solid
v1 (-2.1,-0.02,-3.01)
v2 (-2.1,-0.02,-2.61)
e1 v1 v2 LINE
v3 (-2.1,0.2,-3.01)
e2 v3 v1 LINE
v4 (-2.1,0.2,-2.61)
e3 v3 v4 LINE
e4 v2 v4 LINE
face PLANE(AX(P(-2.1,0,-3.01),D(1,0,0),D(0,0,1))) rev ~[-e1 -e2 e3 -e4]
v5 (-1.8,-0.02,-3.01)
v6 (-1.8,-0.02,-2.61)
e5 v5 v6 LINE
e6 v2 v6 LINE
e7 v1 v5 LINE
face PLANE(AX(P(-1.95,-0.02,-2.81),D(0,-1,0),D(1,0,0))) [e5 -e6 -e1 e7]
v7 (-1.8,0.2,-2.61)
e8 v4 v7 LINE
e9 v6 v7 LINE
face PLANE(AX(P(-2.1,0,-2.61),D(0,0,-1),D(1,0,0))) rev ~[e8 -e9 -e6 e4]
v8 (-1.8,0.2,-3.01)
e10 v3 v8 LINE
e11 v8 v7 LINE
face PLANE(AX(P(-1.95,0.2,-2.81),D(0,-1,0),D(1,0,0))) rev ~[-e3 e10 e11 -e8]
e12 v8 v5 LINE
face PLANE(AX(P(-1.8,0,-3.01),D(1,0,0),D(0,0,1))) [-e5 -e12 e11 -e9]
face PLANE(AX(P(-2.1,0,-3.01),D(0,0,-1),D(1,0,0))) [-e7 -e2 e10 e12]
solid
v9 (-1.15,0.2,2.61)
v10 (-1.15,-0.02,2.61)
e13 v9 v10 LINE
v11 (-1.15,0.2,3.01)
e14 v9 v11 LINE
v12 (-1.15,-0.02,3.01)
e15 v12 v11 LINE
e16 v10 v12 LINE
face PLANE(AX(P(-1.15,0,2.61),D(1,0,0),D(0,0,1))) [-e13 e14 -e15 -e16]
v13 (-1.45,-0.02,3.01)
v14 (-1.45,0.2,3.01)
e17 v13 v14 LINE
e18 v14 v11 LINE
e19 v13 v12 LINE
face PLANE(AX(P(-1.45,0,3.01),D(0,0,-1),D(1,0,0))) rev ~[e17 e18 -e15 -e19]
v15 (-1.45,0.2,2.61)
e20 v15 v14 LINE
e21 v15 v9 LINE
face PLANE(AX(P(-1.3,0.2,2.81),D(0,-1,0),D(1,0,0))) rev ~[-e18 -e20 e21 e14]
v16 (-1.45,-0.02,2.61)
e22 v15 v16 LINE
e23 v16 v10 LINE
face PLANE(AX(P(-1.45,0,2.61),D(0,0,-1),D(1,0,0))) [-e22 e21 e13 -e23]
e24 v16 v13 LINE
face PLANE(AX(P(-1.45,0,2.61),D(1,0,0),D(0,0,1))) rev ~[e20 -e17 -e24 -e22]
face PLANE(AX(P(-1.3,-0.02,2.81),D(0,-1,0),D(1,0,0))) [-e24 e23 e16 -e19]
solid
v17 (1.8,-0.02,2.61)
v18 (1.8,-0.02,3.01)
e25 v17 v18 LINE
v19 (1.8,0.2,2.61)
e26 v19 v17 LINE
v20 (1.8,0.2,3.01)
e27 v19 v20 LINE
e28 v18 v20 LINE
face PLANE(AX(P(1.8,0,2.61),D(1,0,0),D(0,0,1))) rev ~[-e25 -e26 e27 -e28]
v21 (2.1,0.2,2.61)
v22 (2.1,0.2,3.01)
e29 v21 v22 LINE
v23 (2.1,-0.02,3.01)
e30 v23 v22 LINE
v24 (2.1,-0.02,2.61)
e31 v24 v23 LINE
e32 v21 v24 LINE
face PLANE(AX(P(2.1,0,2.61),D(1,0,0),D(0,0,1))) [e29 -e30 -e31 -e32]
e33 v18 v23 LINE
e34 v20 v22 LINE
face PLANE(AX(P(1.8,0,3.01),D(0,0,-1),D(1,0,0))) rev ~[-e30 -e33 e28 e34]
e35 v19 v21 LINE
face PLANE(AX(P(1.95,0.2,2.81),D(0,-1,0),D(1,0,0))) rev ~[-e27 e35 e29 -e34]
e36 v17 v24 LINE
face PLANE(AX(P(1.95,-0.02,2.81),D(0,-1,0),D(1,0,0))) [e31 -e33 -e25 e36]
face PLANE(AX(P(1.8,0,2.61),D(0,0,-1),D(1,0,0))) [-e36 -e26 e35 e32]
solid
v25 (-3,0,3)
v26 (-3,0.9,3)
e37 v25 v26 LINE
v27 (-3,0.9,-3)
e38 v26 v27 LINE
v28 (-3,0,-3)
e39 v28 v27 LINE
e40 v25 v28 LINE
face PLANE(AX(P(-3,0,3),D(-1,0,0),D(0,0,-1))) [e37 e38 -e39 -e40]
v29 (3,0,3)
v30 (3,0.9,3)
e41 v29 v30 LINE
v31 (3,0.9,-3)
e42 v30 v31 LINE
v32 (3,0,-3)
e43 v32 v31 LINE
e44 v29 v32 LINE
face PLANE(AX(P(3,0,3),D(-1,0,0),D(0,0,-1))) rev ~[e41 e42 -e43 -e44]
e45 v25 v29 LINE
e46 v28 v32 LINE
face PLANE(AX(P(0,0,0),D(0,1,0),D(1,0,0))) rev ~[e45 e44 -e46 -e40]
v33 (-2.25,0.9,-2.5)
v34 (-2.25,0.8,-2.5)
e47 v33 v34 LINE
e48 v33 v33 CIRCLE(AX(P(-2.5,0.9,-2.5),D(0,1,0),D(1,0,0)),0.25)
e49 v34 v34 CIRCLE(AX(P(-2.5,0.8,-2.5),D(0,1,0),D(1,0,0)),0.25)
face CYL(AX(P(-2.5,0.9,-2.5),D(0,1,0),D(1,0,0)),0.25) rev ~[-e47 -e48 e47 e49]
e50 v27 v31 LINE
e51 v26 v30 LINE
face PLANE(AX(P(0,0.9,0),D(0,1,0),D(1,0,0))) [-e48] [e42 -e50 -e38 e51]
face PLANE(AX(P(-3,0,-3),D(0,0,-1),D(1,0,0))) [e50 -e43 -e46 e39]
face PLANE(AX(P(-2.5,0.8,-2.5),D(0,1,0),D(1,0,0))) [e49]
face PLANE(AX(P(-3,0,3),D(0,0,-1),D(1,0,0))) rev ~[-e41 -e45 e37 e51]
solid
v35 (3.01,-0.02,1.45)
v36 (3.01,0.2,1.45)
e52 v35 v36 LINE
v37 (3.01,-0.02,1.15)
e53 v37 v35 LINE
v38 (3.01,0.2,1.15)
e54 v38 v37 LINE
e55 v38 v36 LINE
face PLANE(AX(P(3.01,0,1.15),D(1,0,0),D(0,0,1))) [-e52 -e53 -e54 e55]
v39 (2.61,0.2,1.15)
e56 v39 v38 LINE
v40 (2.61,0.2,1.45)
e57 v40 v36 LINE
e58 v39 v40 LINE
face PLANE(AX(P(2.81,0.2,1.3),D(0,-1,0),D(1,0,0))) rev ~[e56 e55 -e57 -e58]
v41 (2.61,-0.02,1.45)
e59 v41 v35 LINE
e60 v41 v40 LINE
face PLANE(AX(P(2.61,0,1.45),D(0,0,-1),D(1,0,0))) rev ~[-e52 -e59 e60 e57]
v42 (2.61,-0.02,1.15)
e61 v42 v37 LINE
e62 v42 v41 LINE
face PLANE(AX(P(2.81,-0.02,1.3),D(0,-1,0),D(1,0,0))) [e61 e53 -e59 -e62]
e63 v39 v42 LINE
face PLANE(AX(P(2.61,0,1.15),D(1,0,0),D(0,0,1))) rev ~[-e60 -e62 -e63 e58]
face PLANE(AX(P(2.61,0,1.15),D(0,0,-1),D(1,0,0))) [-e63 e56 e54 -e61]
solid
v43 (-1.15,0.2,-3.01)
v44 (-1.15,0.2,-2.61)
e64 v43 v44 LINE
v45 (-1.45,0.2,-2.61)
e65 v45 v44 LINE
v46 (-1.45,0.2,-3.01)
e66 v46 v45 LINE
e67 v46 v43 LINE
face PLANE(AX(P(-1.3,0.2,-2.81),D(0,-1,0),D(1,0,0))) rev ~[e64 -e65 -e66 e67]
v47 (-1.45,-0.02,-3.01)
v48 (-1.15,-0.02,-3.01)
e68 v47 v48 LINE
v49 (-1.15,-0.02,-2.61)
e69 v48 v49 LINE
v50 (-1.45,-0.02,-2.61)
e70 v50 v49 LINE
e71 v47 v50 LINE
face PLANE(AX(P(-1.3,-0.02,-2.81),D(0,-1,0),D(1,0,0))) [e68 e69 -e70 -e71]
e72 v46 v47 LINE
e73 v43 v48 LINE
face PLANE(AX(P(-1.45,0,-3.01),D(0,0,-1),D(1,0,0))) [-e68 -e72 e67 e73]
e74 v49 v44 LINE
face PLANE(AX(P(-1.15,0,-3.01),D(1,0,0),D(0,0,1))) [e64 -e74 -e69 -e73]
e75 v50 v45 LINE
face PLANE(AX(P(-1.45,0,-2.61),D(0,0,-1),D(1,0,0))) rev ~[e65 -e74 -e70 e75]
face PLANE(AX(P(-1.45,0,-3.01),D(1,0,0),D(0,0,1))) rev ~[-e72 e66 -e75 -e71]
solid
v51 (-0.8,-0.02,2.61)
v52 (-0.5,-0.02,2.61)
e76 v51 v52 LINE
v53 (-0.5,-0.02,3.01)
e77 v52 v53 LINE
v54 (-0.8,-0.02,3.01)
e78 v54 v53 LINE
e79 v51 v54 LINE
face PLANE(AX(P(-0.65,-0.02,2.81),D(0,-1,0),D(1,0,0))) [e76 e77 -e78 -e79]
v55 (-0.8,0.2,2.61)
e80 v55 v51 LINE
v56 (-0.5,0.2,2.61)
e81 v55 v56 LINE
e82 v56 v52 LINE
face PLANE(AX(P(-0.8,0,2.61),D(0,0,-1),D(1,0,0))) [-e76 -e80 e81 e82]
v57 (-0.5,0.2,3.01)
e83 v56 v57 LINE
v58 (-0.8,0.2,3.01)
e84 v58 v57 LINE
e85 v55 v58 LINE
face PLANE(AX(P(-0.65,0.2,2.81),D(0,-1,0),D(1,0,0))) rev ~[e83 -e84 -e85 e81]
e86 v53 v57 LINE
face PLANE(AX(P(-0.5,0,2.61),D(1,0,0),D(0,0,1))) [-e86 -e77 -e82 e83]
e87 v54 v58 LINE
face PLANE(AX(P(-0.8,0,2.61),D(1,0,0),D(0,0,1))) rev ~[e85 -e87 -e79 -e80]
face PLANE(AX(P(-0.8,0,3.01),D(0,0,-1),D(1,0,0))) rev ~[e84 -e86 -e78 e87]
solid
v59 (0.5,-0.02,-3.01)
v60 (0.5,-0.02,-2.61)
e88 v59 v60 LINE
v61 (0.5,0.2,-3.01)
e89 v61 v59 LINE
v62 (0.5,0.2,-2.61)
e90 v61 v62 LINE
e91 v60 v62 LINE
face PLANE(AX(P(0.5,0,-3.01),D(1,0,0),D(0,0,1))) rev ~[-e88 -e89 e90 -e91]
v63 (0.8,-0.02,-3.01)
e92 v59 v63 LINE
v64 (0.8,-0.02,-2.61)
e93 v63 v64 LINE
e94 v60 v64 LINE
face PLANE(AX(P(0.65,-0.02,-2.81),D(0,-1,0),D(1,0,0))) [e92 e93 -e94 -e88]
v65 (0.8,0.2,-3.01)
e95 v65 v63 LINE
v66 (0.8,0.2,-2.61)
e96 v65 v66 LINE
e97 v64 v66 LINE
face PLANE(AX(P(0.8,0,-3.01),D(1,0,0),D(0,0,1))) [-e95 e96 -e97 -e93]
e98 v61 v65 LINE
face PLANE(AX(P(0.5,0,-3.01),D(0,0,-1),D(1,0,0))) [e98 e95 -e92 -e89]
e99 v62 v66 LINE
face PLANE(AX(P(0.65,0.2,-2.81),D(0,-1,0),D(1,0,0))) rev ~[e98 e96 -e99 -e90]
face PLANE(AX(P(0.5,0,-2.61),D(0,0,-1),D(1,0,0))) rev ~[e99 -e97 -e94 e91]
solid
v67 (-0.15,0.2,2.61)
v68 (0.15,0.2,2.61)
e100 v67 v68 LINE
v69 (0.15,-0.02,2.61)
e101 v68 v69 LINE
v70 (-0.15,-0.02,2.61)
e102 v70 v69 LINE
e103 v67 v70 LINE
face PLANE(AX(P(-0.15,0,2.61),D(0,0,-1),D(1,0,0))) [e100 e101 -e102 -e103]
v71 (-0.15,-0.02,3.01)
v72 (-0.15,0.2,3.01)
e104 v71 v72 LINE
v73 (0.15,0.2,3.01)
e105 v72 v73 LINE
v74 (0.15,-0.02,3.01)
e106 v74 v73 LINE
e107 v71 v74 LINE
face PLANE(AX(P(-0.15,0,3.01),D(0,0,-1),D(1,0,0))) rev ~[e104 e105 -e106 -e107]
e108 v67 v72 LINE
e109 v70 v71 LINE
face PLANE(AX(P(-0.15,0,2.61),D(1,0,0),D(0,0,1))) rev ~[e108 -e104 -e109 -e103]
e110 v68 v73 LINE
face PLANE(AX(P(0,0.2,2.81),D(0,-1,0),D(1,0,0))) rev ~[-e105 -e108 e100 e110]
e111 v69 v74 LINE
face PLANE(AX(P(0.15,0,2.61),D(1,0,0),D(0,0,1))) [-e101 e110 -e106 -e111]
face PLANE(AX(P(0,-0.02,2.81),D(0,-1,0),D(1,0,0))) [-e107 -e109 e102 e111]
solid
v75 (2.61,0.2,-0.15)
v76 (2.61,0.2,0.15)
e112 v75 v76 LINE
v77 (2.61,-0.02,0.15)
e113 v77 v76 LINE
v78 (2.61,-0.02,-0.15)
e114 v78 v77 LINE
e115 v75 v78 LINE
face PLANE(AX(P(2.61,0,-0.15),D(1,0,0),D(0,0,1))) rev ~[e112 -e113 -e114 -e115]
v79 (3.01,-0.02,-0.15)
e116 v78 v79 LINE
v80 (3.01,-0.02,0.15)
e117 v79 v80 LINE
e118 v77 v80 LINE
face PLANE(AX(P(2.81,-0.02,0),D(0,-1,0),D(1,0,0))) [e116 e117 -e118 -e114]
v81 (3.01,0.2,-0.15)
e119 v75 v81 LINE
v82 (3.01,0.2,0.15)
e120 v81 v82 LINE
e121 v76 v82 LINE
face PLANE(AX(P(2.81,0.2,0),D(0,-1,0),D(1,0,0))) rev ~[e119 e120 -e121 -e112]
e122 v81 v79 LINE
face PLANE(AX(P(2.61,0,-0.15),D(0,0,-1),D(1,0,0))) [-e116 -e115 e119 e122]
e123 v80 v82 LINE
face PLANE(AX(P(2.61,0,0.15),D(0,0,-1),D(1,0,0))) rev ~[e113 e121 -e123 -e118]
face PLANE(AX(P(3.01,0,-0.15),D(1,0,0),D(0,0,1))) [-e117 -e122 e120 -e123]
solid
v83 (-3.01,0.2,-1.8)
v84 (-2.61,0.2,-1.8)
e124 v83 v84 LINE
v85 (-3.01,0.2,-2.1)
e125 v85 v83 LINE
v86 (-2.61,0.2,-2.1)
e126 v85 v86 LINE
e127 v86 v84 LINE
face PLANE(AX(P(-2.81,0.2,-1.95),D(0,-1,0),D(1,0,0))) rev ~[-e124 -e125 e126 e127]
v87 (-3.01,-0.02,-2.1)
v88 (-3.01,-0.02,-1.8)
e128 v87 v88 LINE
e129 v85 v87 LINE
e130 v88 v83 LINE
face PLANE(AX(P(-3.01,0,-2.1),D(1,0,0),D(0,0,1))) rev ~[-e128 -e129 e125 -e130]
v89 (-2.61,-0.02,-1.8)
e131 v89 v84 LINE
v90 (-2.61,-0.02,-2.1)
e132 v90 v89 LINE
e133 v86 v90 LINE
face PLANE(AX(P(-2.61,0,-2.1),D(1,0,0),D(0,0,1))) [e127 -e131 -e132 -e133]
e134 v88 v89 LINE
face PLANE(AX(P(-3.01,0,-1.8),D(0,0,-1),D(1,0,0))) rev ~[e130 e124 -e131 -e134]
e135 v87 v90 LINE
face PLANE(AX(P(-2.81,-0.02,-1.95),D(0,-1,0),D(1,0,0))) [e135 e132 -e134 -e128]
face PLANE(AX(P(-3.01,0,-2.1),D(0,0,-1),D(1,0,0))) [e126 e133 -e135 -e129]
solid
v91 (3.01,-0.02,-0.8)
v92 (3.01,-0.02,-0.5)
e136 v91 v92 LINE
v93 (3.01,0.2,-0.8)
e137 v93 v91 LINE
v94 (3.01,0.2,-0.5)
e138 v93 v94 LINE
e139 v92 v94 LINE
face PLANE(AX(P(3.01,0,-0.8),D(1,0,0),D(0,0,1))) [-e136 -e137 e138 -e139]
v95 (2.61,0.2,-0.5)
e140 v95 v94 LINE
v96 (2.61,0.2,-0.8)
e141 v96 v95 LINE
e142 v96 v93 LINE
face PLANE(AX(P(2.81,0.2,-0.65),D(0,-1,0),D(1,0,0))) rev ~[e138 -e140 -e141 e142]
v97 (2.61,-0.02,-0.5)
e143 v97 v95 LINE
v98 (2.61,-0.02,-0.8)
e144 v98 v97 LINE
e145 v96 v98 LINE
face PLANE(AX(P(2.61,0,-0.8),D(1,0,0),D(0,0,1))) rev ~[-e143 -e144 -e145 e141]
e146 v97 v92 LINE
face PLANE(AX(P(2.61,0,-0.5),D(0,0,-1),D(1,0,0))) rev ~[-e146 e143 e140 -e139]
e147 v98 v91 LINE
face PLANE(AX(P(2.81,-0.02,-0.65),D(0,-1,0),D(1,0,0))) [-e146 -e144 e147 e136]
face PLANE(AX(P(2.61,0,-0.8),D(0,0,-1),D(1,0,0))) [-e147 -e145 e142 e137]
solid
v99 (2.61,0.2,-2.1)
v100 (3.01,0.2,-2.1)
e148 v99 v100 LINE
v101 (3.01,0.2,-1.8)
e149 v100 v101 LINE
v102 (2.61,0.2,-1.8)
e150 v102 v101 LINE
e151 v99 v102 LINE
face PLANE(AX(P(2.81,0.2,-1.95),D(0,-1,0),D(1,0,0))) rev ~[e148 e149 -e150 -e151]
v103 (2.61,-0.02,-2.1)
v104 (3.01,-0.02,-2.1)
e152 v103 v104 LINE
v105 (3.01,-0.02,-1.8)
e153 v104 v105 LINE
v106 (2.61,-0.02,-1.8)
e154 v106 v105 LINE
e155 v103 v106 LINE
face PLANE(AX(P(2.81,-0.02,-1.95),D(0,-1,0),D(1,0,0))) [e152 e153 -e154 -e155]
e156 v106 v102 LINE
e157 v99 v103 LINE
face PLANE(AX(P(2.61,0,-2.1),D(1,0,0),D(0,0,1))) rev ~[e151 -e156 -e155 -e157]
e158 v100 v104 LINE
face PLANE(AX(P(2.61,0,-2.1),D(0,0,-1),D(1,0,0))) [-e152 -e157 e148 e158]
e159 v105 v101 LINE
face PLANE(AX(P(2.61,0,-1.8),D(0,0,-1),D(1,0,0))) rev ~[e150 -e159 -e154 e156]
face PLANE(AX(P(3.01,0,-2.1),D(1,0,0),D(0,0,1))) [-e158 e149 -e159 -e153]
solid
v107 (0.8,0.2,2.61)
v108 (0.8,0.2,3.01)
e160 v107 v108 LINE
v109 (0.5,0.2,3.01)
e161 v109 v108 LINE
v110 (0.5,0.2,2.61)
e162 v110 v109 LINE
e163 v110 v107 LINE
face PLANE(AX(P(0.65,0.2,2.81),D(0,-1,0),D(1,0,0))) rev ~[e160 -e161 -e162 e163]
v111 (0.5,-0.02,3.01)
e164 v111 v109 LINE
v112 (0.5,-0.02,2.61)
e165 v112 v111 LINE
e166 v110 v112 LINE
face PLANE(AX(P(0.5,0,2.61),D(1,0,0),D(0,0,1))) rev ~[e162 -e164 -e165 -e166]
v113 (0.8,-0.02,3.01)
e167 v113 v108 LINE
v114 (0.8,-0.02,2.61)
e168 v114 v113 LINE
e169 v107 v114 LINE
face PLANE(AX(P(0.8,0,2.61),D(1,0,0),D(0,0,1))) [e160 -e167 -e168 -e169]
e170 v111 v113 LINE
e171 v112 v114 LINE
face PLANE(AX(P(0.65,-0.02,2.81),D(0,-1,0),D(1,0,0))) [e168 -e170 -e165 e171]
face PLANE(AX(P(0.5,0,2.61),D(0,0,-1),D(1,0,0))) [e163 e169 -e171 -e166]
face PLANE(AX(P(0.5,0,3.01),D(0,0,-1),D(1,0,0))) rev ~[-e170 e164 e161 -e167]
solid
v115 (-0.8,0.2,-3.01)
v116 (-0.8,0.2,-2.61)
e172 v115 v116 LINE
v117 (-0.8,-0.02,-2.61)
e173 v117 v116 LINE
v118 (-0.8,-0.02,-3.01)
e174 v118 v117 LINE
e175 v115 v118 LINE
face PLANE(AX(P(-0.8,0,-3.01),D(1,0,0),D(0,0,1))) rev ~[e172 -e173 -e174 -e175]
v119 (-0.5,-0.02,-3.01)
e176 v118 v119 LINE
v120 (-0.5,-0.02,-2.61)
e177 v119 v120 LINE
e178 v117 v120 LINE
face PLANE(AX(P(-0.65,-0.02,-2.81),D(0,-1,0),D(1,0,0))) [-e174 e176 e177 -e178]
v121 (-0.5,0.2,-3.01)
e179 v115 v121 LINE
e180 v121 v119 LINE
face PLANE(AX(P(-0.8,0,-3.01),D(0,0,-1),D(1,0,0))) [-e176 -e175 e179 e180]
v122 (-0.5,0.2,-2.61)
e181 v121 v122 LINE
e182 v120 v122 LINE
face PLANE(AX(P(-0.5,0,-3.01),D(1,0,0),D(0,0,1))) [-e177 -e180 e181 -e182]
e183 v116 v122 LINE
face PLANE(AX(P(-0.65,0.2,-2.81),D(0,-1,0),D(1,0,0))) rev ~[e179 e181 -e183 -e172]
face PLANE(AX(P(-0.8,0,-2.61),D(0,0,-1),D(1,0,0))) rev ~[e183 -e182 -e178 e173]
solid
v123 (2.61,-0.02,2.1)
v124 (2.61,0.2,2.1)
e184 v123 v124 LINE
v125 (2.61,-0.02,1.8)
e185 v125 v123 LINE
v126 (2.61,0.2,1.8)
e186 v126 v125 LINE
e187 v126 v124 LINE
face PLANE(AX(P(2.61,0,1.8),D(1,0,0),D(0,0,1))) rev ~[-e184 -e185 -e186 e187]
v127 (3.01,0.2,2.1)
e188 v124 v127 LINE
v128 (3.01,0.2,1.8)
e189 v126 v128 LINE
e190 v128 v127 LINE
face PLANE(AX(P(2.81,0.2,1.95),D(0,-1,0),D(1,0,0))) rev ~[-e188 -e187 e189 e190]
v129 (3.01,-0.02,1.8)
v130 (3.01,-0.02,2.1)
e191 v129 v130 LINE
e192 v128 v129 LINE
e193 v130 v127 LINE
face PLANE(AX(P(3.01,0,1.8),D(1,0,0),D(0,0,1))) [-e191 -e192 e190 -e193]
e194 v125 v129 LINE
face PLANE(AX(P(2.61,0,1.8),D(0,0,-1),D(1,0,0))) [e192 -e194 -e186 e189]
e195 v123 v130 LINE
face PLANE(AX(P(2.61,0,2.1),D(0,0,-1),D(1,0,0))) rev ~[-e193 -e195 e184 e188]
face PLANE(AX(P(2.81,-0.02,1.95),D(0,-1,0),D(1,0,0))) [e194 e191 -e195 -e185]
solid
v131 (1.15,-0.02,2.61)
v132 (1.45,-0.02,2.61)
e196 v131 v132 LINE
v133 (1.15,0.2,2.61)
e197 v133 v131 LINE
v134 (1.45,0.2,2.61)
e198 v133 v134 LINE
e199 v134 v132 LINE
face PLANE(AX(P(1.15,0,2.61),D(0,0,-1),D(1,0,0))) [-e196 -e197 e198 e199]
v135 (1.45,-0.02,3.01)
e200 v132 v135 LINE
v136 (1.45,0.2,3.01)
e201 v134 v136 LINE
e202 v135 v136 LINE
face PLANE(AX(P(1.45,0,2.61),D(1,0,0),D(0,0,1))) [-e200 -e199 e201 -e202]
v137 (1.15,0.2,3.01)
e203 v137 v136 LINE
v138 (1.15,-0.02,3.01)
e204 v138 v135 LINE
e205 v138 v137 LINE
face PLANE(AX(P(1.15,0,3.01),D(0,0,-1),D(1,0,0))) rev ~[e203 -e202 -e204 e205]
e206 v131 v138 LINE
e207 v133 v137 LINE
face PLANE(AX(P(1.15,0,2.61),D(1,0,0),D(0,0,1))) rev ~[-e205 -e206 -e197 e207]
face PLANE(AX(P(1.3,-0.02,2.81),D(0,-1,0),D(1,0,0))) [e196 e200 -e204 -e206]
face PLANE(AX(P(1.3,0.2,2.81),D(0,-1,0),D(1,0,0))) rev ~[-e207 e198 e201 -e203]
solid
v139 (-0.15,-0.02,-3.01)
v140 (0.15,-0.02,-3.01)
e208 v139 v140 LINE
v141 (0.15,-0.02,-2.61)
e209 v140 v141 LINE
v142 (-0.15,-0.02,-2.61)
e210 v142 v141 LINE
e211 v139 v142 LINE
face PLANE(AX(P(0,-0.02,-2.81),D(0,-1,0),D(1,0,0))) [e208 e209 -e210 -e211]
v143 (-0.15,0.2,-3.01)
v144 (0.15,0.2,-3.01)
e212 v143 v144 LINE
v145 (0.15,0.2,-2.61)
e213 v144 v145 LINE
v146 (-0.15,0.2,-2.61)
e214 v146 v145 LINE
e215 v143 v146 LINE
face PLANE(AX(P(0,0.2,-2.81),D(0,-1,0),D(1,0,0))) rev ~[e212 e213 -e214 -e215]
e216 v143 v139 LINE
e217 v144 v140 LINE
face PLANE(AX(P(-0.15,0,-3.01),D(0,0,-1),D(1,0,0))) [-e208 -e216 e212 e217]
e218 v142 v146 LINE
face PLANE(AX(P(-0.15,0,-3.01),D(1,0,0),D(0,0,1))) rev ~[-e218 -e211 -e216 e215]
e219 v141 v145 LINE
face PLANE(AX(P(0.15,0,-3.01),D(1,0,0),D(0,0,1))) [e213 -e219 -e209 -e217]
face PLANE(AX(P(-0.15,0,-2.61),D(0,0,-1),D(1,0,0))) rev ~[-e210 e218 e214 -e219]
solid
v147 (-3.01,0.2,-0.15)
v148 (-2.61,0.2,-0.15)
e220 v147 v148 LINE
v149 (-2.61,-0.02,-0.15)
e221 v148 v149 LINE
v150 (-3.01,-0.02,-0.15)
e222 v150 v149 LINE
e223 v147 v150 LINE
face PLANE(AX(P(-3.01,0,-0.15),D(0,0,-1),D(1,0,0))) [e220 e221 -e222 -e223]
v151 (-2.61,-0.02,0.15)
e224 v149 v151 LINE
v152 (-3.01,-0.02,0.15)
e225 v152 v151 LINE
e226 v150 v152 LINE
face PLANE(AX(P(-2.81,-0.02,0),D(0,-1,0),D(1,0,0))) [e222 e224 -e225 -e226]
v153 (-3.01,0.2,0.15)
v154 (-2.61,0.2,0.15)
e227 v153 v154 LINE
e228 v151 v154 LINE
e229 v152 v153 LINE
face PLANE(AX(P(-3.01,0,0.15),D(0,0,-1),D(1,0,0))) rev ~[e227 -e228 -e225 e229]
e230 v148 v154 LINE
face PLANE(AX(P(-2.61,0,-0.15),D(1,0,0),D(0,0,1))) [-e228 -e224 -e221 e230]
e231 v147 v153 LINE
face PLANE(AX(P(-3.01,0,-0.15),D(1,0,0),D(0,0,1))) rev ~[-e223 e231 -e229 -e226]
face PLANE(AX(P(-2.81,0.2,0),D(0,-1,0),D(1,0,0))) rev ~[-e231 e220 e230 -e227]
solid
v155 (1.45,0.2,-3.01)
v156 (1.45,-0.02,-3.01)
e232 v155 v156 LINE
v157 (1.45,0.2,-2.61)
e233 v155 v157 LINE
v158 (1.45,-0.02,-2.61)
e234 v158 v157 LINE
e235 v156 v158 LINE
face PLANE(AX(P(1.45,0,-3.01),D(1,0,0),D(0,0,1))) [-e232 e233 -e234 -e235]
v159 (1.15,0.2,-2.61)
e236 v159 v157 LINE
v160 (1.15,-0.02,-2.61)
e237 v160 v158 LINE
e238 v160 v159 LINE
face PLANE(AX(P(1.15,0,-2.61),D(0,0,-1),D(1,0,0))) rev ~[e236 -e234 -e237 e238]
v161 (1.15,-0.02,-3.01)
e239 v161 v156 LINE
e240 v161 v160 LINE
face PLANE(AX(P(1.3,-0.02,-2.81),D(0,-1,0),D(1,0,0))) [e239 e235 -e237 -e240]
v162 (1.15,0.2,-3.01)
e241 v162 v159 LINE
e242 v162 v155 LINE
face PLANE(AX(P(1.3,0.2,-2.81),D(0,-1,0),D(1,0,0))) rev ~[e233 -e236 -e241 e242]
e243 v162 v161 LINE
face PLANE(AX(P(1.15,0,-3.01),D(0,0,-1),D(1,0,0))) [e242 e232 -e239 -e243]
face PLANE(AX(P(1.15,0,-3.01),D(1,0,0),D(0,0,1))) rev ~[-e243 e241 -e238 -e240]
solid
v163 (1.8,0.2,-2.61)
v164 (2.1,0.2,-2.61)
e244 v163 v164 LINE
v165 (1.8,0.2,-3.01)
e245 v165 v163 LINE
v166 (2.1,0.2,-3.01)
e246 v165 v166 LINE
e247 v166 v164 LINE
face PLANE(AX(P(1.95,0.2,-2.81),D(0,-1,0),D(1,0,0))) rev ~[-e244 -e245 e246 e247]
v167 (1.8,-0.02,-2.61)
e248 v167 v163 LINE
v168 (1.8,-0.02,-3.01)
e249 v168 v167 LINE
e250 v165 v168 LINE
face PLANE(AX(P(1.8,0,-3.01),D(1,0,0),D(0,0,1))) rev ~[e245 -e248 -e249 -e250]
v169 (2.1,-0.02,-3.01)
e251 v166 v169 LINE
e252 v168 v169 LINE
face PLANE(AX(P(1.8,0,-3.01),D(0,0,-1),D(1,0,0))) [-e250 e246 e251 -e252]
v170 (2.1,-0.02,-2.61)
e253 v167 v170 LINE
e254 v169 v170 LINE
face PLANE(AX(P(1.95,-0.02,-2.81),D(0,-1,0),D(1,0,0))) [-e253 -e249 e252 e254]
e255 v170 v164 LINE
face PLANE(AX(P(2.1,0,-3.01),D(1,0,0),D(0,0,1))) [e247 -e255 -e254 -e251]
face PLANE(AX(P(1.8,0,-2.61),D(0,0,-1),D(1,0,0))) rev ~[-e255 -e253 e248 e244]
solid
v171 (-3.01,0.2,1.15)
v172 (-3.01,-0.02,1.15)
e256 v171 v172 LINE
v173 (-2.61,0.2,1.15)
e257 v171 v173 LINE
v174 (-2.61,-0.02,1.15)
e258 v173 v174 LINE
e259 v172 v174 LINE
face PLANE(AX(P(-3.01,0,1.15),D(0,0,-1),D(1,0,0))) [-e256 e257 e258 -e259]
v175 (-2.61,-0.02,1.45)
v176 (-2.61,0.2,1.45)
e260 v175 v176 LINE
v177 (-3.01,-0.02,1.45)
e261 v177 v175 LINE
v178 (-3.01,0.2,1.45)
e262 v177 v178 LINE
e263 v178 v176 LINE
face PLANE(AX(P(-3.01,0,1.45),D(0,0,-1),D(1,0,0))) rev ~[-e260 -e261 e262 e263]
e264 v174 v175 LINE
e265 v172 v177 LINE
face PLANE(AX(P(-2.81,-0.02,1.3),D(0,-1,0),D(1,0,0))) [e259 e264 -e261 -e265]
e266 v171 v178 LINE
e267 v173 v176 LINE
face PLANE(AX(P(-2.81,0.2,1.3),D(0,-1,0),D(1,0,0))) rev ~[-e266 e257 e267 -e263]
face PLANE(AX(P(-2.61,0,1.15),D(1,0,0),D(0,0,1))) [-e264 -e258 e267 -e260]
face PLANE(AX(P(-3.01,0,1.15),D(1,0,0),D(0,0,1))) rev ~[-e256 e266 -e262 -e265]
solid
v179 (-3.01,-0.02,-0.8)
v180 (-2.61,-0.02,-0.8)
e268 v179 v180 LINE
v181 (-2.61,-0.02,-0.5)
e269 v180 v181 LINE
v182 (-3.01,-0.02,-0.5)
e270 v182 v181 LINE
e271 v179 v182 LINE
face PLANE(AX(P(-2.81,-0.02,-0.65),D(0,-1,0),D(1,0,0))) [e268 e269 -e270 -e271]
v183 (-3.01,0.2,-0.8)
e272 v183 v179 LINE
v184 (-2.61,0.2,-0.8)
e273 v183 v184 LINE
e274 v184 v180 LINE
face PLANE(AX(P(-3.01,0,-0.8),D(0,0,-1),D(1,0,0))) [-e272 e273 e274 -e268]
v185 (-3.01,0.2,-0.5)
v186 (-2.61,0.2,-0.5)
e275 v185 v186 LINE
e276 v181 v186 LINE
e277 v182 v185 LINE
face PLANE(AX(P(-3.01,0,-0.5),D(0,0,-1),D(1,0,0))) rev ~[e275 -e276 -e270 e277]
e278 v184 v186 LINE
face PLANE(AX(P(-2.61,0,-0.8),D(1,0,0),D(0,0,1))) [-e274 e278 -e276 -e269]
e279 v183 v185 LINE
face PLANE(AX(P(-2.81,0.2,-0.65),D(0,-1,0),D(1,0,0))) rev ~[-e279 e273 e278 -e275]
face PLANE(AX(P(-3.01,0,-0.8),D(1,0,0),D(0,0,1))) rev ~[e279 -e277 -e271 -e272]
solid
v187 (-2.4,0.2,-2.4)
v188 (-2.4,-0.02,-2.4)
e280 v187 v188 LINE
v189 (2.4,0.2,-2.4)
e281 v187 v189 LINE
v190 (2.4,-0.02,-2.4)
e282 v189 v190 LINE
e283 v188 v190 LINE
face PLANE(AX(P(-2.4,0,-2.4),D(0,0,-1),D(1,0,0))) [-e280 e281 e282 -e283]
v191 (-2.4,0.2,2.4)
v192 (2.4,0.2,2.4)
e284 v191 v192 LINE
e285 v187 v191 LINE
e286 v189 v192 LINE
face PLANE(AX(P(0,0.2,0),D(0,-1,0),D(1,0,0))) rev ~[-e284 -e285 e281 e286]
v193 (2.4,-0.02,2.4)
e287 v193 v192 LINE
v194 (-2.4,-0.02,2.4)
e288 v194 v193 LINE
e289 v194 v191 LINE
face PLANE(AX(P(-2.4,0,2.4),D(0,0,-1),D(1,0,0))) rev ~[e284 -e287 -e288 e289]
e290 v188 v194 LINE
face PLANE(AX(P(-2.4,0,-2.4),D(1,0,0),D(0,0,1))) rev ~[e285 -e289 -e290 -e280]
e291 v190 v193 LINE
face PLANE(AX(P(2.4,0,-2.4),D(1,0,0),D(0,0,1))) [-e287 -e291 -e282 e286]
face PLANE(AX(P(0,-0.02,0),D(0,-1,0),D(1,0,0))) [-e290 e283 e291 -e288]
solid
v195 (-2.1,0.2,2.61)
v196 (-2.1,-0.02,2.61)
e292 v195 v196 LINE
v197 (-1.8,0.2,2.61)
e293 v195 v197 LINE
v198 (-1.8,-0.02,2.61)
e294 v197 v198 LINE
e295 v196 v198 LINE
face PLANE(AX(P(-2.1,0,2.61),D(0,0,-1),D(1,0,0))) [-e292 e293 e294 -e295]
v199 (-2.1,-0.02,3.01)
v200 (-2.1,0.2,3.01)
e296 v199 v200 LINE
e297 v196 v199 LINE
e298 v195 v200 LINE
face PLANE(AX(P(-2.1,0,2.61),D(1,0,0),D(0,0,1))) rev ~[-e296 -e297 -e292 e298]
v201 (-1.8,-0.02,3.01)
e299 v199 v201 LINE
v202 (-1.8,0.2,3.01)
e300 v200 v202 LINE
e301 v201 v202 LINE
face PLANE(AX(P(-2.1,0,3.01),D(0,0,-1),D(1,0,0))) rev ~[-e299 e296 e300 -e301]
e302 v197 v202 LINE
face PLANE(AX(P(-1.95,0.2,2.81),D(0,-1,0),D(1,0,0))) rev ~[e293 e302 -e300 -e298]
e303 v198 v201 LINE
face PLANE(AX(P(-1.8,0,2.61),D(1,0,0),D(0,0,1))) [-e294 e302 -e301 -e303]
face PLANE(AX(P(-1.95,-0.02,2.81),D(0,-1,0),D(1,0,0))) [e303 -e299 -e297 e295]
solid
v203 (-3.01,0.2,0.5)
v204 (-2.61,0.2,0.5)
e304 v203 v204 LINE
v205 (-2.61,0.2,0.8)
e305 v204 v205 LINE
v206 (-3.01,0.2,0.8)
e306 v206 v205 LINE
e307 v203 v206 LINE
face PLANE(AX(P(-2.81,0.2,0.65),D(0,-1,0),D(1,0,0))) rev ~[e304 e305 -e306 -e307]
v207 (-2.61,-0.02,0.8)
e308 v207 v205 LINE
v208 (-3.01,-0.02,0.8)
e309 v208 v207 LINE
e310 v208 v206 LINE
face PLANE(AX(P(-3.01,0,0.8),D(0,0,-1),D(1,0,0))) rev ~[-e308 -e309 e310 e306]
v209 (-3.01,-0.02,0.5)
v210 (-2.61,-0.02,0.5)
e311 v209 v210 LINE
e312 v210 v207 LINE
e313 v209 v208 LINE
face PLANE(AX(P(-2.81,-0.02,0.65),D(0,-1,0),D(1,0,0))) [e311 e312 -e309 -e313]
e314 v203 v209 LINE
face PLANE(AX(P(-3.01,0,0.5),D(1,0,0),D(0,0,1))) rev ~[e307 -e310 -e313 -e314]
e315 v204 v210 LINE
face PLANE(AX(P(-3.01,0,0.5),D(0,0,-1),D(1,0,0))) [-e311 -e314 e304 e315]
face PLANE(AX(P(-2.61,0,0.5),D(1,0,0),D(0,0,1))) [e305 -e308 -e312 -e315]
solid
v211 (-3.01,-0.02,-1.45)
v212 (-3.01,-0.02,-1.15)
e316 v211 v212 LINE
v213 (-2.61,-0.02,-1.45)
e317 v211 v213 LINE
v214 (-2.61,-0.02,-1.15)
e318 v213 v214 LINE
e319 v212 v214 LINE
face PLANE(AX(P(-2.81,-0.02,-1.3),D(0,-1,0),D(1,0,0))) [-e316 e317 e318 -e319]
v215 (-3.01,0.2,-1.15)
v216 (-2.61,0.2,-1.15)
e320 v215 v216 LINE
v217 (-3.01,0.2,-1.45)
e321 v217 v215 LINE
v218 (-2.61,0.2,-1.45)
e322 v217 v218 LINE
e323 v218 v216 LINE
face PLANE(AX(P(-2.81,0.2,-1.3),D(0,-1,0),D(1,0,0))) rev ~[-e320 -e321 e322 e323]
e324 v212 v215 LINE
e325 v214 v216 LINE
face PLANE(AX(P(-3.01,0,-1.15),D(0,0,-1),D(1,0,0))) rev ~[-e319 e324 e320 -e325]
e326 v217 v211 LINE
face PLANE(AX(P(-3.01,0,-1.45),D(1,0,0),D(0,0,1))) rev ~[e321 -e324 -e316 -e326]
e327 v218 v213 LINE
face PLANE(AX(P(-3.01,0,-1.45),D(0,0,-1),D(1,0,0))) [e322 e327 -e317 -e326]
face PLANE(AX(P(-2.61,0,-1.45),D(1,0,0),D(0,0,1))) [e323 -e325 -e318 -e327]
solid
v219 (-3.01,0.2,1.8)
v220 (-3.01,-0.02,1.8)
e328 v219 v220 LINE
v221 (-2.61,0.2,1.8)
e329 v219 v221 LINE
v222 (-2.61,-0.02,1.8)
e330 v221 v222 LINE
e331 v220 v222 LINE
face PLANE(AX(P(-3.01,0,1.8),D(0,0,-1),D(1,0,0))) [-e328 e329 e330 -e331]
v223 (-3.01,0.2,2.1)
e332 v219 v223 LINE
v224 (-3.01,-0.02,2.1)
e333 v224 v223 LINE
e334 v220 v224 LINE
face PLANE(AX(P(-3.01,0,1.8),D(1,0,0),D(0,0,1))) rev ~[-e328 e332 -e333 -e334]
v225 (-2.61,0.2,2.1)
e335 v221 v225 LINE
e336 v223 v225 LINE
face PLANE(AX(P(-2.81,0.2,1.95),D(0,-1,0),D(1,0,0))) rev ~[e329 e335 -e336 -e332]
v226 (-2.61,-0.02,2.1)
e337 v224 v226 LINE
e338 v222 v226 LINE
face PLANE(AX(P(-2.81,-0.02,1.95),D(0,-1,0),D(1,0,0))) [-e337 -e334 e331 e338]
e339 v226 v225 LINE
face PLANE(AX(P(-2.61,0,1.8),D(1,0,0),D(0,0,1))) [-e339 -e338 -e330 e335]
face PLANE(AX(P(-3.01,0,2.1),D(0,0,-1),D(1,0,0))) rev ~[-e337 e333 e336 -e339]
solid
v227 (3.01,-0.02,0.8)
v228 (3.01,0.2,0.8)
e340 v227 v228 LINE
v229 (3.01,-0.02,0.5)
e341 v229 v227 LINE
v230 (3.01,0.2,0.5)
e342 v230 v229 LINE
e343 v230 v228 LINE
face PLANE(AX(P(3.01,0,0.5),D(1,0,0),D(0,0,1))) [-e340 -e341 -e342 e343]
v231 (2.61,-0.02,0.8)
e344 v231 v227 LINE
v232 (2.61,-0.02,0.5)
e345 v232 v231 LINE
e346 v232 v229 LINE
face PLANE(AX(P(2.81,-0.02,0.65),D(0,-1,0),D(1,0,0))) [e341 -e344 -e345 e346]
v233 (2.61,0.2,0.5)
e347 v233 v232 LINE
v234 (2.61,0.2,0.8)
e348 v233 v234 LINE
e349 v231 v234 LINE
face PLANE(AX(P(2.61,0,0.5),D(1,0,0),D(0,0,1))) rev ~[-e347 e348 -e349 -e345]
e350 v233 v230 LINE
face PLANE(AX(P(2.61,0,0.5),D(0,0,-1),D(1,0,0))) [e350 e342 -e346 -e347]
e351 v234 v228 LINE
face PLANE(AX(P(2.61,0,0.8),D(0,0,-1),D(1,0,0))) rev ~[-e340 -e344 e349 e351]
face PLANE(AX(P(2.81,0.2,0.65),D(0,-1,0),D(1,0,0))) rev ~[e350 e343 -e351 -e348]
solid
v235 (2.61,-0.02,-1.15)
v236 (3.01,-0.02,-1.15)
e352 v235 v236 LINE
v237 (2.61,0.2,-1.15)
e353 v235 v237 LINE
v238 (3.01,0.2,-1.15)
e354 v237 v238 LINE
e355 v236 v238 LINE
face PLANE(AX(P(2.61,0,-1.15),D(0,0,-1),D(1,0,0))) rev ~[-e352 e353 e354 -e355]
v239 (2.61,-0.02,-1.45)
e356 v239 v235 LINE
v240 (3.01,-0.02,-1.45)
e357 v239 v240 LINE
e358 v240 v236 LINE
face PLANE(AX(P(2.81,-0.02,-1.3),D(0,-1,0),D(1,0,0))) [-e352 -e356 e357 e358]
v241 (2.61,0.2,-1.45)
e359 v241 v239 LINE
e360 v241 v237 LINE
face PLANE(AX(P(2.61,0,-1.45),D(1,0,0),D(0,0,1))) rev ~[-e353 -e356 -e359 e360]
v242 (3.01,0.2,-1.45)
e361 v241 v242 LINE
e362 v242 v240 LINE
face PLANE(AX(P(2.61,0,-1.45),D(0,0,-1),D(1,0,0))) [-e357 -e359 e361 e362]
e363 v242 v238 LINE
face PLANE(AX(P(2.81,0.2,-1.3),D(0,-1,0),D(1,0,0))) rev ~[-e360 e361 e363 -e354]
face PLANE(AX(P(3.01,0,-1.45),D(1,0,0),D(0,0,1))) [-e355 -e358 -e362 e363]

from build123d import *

# Parameters (mm, degrees)
SKETCH2_W                   = 6
SKETCH2_H                   = 6
BOSS_EXTRUDE1_DEPTH         = 0.9
SKETCH3_W                   = 0.4
SKETCH3_H                   = 0.3
BOSS_EXTRUDE2_DEPTH         = 0.02
BOSS_EXTRUDE2_DEPTH_BACK    = 0.2
SKETCH3_W_2                 = 4.8
SKETCH3_H_2                 = 4.8
BOSS_EXTRUDE2_2_DEPTH       = 0.02
BOSS_EXTRUDE2_2_DEPTH_BACK  = 0.2
BOSS_EXTRUDE2_3_DEPTH       = 0.02
BOSS_EXTRUDE2_3_DEPTH_BACK  = 0.2
BOSS_EXTRUDE2_4_DEPTH       = 0.02
BOSS_EXTRUDE2_4_DEPTH_BACK  = 0.2
BOSS_EXTRUDE2_5_DEPTH       = 0.02
BOSS_EXTRUDE2_5_DEPTH_BACK  = 0.2
BOSS_EXTRUDE2_6_DEPTH       = 0.02
BOSS_EXTRUDE2_6_DEPTH_BACK  = 0.2
BOSS_EXTRUDE2_7_DEPTH       = 0.02
BOSS_EXTRUDE2_7_DEPTH_BACK  = 0.2
BOSS_EXTRUDE2_8_DEPTH       = 0.02
BOSS_EXTRUDE2_8_DEPTH_BACK  = 0.2
SKETCH3_W_3                 = 0.3
SKETCH3_H_3                 = 0.4
BOSS_EXTRUDE2_9_DEPTH       = 0.02
BOSS_EXTRUDE2_9_DEPTH_BACK  = 0.2
BOSS_EXTRUDE2_10_DEPTH      = 0.02
BOSS_EXTRUDE2_10_DEPTH_BACK = 0.2
BOSS_EXTRUDE2_11_DEPTH      = 0.02
BOSS_EXTRUDE2_11_DEPTH_BACK = 0.2
BOSS_EXTRUDE2_12_DEPTH      = 0.02
BOSS_EXTRUDE2_12_DEPTH_BACK = 0.2
BOSS_EXTRUDE2_13_DEPTH      = 0.02
BOSS_EXTRUDE2_13_DEPTH_BACK = 0.2
BOSS_EXTRUDE2_14_DEPTH      = 0.02
BOSS_EXTRUDE2_14_DEPTH_BACK = 0.2
BOSS_EXTRUDE2_15_DEPTH      = 0.02
BOSS_EXTRUDE2_15_DEPTH_BACK = 0.2
BOSS_EXTRUDE2_16_DEPTH      = 0.02
BOSS_EXTRUDE2_16_DEPTH_BACK = 0.2
BOSS_EXTRUDE2_17_DEPTH      = 0.02
BOSS_EXTRUDE2_17_DEPTH_BACK = 0.2
BOSS_EXTRUDE2_18_DEPTH      = 0.02
BOSS_EXTRUDE2_18_DEPTH_BACK = 0.2
BOSS_EXTRUDE2_19_DEPTH      = 0.02
BOSS_EXTRUDE2_19_DEPTH_BACK = 0.2
BOSS_EXTRUDE2_20_DEPTH      = 0.02
BOSS_EXTRUDE2_20_DEPTH_BACK = 0.2
BOSS_EXTRUDE2_21_DEPTH      = 0.02
BOSS_EXTRUDE2_21_DEPTH_BACK = 0.2
BOSS_EXTRUDE2_22_DEPTH      = 0.02
BOSS_EXTRUDE2_22_DEPTH_BACK = 0.2
BOSS_EXTRUDE2_23_DEPTH      = 0.02
BOSS_EXTRUDE2_23_DEPTH_BACK = 0.2
BOSS_EXTRUDE2_24_DEPTH      = 0.02
BOSS_EXTRUDE2_24_DEPTH_BACK = 0.2
BOSS_EXTRUDE2_25_DEPTH      = 0.02
BOSS_EXTRUDE2_25_DEPTH_BACK = 0.2
BOSS_EXTRUDE2_26_DEPTH      = 0.02
BOSS_EXTRUDE2_26_DEPTH_BACK = 0.2
BOSS_EXTRUDE2_27_DEPTH      = 0.02
BOSS_EXTRUDE2_27_DEPTH_BACK = 0.2
BOSS_EXTRUDE2_28_DEPTH      = 0.02
BOSS_EXTRUDE2_28_DEPTH_BACK = 0.2
BOSS_EXTRUDE2_29_DEPTH      = 0.02
BOSS_EXTRUDE2_29_DEPTH_BACK = 0.2
SKETCH4_R                   = 0.25
CUT_EXTRUDE1_DEPTH          = 0.1


with BuildPart() as part:
    # Sketch2 → Boss-Extrude1 (new body)
    with BuildSketch(Plane(origin=(0, 0, 0), x_dir=(1, 0, 0), z_dir=(0, 1, 0))):
        Rectangle(SKETCH2_W, SKETCH2_H)
    extrude(amount=BOSS_EXTRUDE1_DEPTH)

    # Sketch4 → Cut-Extrude1 (cut)
    with BuildSketch(Plane(origin=(0, 0.9, 0), x_dir=(1, 0, 0), z_dir=(0, 1, 0))):
        with Locations((-2.5, 2.5)):
            Circle(SKETCH4_R)
    extrude(amount=-CUT_EXTRUDE1_DEPTH, mode=Mode.SUBTRACT)


with BuildPart() as body_2:
    # Sketch3 → Boss-Extrude2 (new body, two sides)
    with BuildSketch(Plane.XZ) as boss_extrude2_sk:
        with Locations((-2.81, 0.65)):
            Rectangle(SKETCH3_W, SKETCH3_H)
    extrude(amount=BOSS_EXTRUDE2_DEPTH)
    extrude(boss_extrude2_sk.sketch, amount=-BOSS_EXTRUDE2_DEPTH_BACK)


with BuildPart() as body_3:
    # Sketch3 → Boss-Extrude2 2 (new body, two sides)
    with BuildSketch(Plane.XZ) as boss_extrude2_2_sk:
        Rectangle(SKETCH3_W_2, SKETCH3_H_2)
    extrude(amount=BOSS_EXTRUDE2_2_DEPTH)
    extrude(boss_extrude2_2_sk.sketch, amount=-BOSS_EXTRUDE2_2_DEPTH_BACK)


with BuildPart() as body_4:
    # Sketch3 → Boss-Extrude2 3 (new body, two sides)
    with BuildSketch(Plane.XZ) as boss_extrude2_3_sk:
        with Locations((-2.81, 0)):
            Rectangle(SKETCH3_W, SKETCH3_H)
    extrude(amount=BOSS_EXTRUDE2_3_DEPTH)
    extrude(boss_extrude2_3_sk.sketch, amount=-BOSS_EXTRUDE2_3_DEPTH_BACK)


with BuildPart() as body_5:
    # Sketch3 → Boss-Extrude2 4 (new body, two sides)
    with BuildSketch(Plane.XZ) as boss_extrude2_4_sk:
        with Locations((-2.81, 1.3)):
            Rectangle(SKETCH3_W, SKETCH3_H)
    extrude(amount=BOSS_EXTRUDE2_4_DEPTH)
    extrude(boss_extrude2_4_sk.sketch, amount=-BOSS_EXTRUDE2_4_DEPTH_BACK)


with BuildPart() as body_6:
    # Sketch3 → Boss-Extrude2 5 (new body, two sides)
    with BuildSketch(Plane.XZ) as boss_extrude2_5_sk:
        with Locations((-2.81, 1.95)):
            Rectangle(SKETCH3_W, SKETCH3_H)
    extrude(amount=BOSS_EXTRUDE2_5_DEPTH)
    extrude(boss_extrude2_5_sk.sketch, amount=-BOSS_EXTRUDE2_5_DEPTH_BACK)


with BuildPart() as body_7:
    # Sketch3 → Boss-Extrude2 6 (new body, two sides)
    with BuildSketch(Plane.XZ) as boss_extrude2_6_sk:
        with Locations((-2.81, -1.95)):
            Rectangle(SKETCH3_W, SKETCH3_H)
    extrude(amount=BOSS_EXTRUDE2_6_DEPTH)
    extrude(boss_extrude2_6_sk.sketch, amount=-BOSS_EXTRUDE2_6_DEPTH_BACK)


with BuildPart() as body_8:
    # Sketch3 → Boss-Extrude2 7 (new body, two sides)
    with BuildSketch(Plane.XZ) as boss_extrude2_7_sk:
        with Locations((-2.81, -1.3)):
            Rectangle(SKETCH3_W, SKETCH3_H)
    extrude(amount=BOSS_EXTRUDE2_7_DEPTH)
    extrude(boss_extrude2_7_sk.sketch, amount=-BOSS_EXTRUDE2_7_DEPTH_BACK)


with BuildPart() as body_9:
    # Sketch3 → Boss-Extrude2 8 (new body, two sides)
    with BuildSketch(Plane.XZ) as boss_extrude2_8_sk:
        with Locations((-2.81, -0.65)):
            Rectangle(SKETCH3_W, SKETCH3_H)
    extrude(amount=BOSS_EXTRUDE2_8_DEPTH)
    extrude(boss_extrude2_8_sk.sketch, amount=-BOSS_EXTRUDE2_8_DEPTH_BACK)


with BuildPart() as body_10:
    # Sketch3 → Boss-Extrude2 9 (new body, two sides)
    with BuildSketch(Plane.XZ) as boss_extrude2_9_sk:
        with Locations((1.95, 2.81)):
            Rectangle(SKETCH3_W_3, SKETCH3_H_3)
    extrude(amount=BOSS_EXTRUDE2_9_DEPTH)
    extrude(boss_extrude2_9_sk.sketch, amount=-BOSS_EXTRUDE2_9_DEPTH_BACK)


with BuildPart() as body_11:
    # Sketch3 → Boss-Extrude2 10 (new body, two sides)
    with BuildSketch(Plane.XZ) as boss_extrude2_10_sk:
        with Locations((1.3, 2.81)):
            Rectangle(SKETCH3_W_3, SKETCH3_H_3)
    extrude(amount=BOSS_EXTRUDE2_10_DEPTH)
    extrude(boss_extrude2_10_sk.sketch, amount=-BOSS_EXTRUDE2_10_DEPTH_BACK)


with BuildPart() as body_12:
    # Sketch3 → Boss-Extrude2 11 (new body, two sides)
    with BuildSketch(Plane.XZ) as boss_extrude2_11_sk:
        with Locations((0.65, 2.81)):
            Rectangle(SKETCH3_W_3, SKETCH3_H_3)
    extrude(amount=BOSS_EXTRUDE2_11_DEPTH)
    extrude(boss_extrude2_11_sk.sketch, amount=-BOSS_EXTRUDE2_11_DEPTH_BACK)


with BuildPart() as body_13:
    # Sketch3 → Boss-Extrude2 12 (new body, two sides)
    with BuildSketch(Plane.XZ) as boss_extrude2_12_sk:
        with Locations((0, 2.81)):
            Rectangle(SKETCH3_W_3, SKETCH3_H_3)
    extrude(amount=BOSS_EXTRUDE2_12_DEPTH)
    extrude(boss_extrude2_12_sk.sketch, amount=-BOSS_EXTRUDE2_12_DEPTH_BACK)


with BuildPart() as body_14:
    # Sketch3 → Boss-Extrude2 13 (new body, two sides)
    with BuildSketch(Plane.XZ) as boss_extrude2_13_sk:
        with Locations((-0.65, 2.81)):
            Rectangle(SKETCH3_W_3, SKETCH3_H_3)
    extrude(amount=BOSS_EXTRUDE2_13_DEPTH)
    extrude(boss_extrude2_13_sk.sketch, amount=-BOSS_EXTRUDE2_13_DEPTH_BACK)


with BuildPart() as body_15:
    # Sketch3 → Boss-Extrude2 14 (new body, two sides)
    with BuildSketch(Plane.XZ) as boss_extrude2_14_sk:
        with Locations((-1.3, 2.81)):
            Rectangle(SKETCH3_W_3, SKETCH3_H_3)
    extrude(amount=BOSS_EXTRUDE2_14_DEPTH)
    extrude(boss_extrude2_14_sk.sketch, amount=-BOSS_EXTRUDE2_14_DEPTH_BACK)


with BuildPart() as body_16:
    # Sketch3 → Boss-Extrude2 15 (new body, two sides)
    with BuildSketch(Plane.XZ) as boss_extrude2_15_sk:
        with Locations((-1.95, 2.81)):
            Rectangle(SKETCH3_W_3, SKETCH3_H_3)
    extrude(amount=BOSS_EXTRUDE2_15_DEPTH)
    extrude(boss_extrude2_15_sk.sketch, amount=-BOSS_EXTRUDE2_15_DEPTH_BACK)


with BuildPart() as body_17:
    # Sketch3 → Boss-Extrude2 16 (new body, two sides)
    with BuildSketch(Plane.XZ) as boss_extrude2_16_sk:
        with Locations((2.81, -1.95)):
            Rectangle(SKETCH3_W, SKETCH3_H)
    extrude(amount=BOSS_EXTRUDE2_16_DEPTH)
    extrude(boss_extrude2_16_sk.sketch, amount=-BOSS_EXTRUDE2_16_DEPTH_BACK)


with BuildPart() as body_18:
    # Sketch3 → Boss-Extrude2 17 (new body, two sides)
    with BuildSketch(Plane.XZ) as boss_extrude2_17_sk:
        with Locations((2.81, -1.3)):
            Rectangle(SKETCH3_W, SKETCH3_H)
    extrude(amount=BOSS_EXTRUDE2_17_DEPTH)
    extrude(boss_extrude2_17_sk.sketch, amount=-BOSS_EXTRUDE2_17_DEPTH_BACK)


with BuildPart() as body_19:
    # Sketch3 → Boss-Extrude2 18 (new body, two sides)
    with BuildSketch(Plane.XZ) as boss_extrude2_18_sk:
        with Locations((2.81, -0.65)):
            Rectangle(SKETCH3_W, SKETCH3_H)
    extrude(amount=BOSS_EXTRUDE2_18_DEPTH)
    extrude(boss_extrude2_18_sk.sketch, amount=-BOSS_EXTRUDE2_18_DEPTH_BACK)


with BuildPart() as body_20:
    # Sketch3 → Boss-Extrude2 19 (new body, two sides)
    with BuildSketch(Plane.XZ) as boss_extrude2_19_sk:
        with Locations((2.81, 0)):
            Rectangle(SKETCH3_W, SKETCH3_H)
    extrude(amount=BOSS_EXTRUDE2_19_DEPTH)
    extrude(boss_extrude2_19_sk.sketch, amount=-BOSS_EXTRUDE2_19_DEPTH_BACK)


with BuildPart() as body_21:
    # Sketch3 → Boss-Extrude2 20 (new body, two sides)
    with BuildSketch(Plane.XZ) as boss_extrude2_20_sk:
        with Locations((2.81, 0.65)):
            Rectangle(SKETCH3_W, SKETCH3_H)
    extrude(amount=BOSS_EXTRUDE2_20_DEPTH)
    extrude(boss_extrude2_20_sk.sketch, amount=-BOSS_EXTRUDE2_20_DEPTH_BACK)


with BuildPart() as body_22:
    # Sketch3 → Boss-Extrude2 21 (new body, two sides)
    with BuildSketch(Plane.XZ) as boss_extrude2_21_sk:
        with Locations((2.81, 1.3)):
            Rectangle(SKETCH3_W, SKETCH3_H)
    extrude(amount=BOSS_EXTRUDE2_21_DEPTH)
    extrude(boss_extrude2_21_sk.sketch, amount=-BOSS_EXTRUDE2_21_DEPTH_BACK)


with BuildPart() as body_23:
    # Sketch3 → Boss-Extrude2 22 (new body, two sides)
    with BuildSketch(Plane.XZ) as boss_extrude2_22_sk:
        with Locations((2.81, 1.95)):
            Rectangle(SKETCH3_W, SKETCH3_H)
    extrude(amount=BOSS_EXTRUDE2_22_DEPTH)
    extrude(boss_extrude2_22_sk.sketch, amount=-BOSS_EXTRUDE2_22_DEPTH_BACK)


with BuildPart() as body_24:
    # Sketch3 → Boss-Extrude2 23 (new body, two sides)
    with BuildSketch(Plane.XZ) as boss_extrude2_23_sk:
        with Locations((-1.95, -2.81)):
            Rectangle(SKETCH3_W_3, SKETCH3_H_3)
    extrude(amount=BOSS_EXTRUDE2_23_DEPTH)
    extrude(boss_extrude2_23_sk.sketch, amount=-BOSS_EXTRUDE2_23_DEPTH_BACK)


with BuildPart() as body_25:
    # Sketch3 → Boss-Extrude2 24 (new body, two sides)
    with BuildSketch(Plane.XZ) as boss_extrude2_24_sk:
        with Locations((-1.3, -2.81)):
            Rectangle(SKETCH3_W_3, SKETCH3_H_3)
    extrude(amount=BOSS_EXTRUDE2_24_DEPTH)
    extrude(boss_extrude2_24_sk.sketch, amount=-BOSS_EXTRUDE2_24_DEPTH_BACK)


with BuildPart() as body_26:
    # Sketch3 → Boss-Extrude2 25 (new body, two sides)
    with BuildSketch(Plane.XZ) as boss_extrude2_25_sk:
        with Locations((-0.65, -2.81)):
            Rectangle(SKETCH3_W_3, SKETCH3_H_3)
    extrude(amount=BOSS_EXTRUDE2_25_DEPTH)
    extrude(boss_extrude2_25_sk.sketch, amount=-BOSS_EXTRUDE2_25_DEPTH_BACK)


with BuildPart() as body_27:
    # Sketch3 → Boss-Extrude2 26 (new body, two sides)
    with BuildSketch(Plane.XZ) as boss_extrude2_26_sk:
        with Locations((0, -2.81)):
            Rectangle(SKETCH3_W_3, SKETCH3_H_3)
    extrude(amount=BOSS_EXTRUDE2_26_DEPTH)
    extrude(boss_extrude2_26_sk.sketch, amount=-BOSS_EXTRUDE2_26_DEPTH_BACK)


with BuildPart() as body_28:
    # Sketch3 → Boss-Extrude2 27 (new body, two sides)
    with BuildSketch(Plane.XZ) as boss_extrude2_27_sk:
        with Locations((0.65, -2.81)):
            Rectangle(SKETCH3_W_3, SKETCH3_H_3)
    extrude(amount=BOSS_EXTRUDE2_27_DEPTH)
    extrude(boss_extrude2_27_sk.sketch, amount=-BOSS_EXTRUDE2_27_DEPTH_BACK)


with BuildPart() as body_29:
    # Sketch3 → Boss-Extrude2 28 (new body, two sides)
    with BuildSketch(Plane.XZ) as boss_extrude2_28_sk:
        with Locations((1.3, -2.81)):
            Rectangle(SKETCH3_W_3, SKETCH3_H_3)
    extrude(amount=BOSS_EXTRUDE2_28_DEPTH)
    extrude(boss_extrude2_28_sk.sketch, amount=-BOSS_EXTRUDE2_28_DEPTH_BACK)


with BuildPart() as body_30:
    # Sketch3 → Boss-Extrude2 29 (new body, two sides)
    with BuildSketch(Plane.XZ) as boss_extrude2_29_sk:
        with Locations((1.95, -2.81)):
            Rectangle(SKETCH3_W_3, SKETCH3_H_3)
    extrude(amount=BOSS_EXTRUDE2_29_DEPTH)
    extrude(boss_extrude2_29_sk.sketch, amount=-BOSS_EXTRUDE2_29_DEPTH_BACK)


solid = Compound([part.part, body_2.part, body_3.part, body_4.part, body_5.part, body_6.part, body_7.part, body_8.part, body_9.part, body_10.part, body_11.part, body_12.part, body_13.part, body_14.part, body_15.part, body_16.part, body_17.part, body_18.part, body_19.part, body_20.part, body_21.part, body_22.part, body_23.part, body_24.part, body_25.part, body_26.part, body_27.part, body_28.part, body_29.part, body_30.part])
